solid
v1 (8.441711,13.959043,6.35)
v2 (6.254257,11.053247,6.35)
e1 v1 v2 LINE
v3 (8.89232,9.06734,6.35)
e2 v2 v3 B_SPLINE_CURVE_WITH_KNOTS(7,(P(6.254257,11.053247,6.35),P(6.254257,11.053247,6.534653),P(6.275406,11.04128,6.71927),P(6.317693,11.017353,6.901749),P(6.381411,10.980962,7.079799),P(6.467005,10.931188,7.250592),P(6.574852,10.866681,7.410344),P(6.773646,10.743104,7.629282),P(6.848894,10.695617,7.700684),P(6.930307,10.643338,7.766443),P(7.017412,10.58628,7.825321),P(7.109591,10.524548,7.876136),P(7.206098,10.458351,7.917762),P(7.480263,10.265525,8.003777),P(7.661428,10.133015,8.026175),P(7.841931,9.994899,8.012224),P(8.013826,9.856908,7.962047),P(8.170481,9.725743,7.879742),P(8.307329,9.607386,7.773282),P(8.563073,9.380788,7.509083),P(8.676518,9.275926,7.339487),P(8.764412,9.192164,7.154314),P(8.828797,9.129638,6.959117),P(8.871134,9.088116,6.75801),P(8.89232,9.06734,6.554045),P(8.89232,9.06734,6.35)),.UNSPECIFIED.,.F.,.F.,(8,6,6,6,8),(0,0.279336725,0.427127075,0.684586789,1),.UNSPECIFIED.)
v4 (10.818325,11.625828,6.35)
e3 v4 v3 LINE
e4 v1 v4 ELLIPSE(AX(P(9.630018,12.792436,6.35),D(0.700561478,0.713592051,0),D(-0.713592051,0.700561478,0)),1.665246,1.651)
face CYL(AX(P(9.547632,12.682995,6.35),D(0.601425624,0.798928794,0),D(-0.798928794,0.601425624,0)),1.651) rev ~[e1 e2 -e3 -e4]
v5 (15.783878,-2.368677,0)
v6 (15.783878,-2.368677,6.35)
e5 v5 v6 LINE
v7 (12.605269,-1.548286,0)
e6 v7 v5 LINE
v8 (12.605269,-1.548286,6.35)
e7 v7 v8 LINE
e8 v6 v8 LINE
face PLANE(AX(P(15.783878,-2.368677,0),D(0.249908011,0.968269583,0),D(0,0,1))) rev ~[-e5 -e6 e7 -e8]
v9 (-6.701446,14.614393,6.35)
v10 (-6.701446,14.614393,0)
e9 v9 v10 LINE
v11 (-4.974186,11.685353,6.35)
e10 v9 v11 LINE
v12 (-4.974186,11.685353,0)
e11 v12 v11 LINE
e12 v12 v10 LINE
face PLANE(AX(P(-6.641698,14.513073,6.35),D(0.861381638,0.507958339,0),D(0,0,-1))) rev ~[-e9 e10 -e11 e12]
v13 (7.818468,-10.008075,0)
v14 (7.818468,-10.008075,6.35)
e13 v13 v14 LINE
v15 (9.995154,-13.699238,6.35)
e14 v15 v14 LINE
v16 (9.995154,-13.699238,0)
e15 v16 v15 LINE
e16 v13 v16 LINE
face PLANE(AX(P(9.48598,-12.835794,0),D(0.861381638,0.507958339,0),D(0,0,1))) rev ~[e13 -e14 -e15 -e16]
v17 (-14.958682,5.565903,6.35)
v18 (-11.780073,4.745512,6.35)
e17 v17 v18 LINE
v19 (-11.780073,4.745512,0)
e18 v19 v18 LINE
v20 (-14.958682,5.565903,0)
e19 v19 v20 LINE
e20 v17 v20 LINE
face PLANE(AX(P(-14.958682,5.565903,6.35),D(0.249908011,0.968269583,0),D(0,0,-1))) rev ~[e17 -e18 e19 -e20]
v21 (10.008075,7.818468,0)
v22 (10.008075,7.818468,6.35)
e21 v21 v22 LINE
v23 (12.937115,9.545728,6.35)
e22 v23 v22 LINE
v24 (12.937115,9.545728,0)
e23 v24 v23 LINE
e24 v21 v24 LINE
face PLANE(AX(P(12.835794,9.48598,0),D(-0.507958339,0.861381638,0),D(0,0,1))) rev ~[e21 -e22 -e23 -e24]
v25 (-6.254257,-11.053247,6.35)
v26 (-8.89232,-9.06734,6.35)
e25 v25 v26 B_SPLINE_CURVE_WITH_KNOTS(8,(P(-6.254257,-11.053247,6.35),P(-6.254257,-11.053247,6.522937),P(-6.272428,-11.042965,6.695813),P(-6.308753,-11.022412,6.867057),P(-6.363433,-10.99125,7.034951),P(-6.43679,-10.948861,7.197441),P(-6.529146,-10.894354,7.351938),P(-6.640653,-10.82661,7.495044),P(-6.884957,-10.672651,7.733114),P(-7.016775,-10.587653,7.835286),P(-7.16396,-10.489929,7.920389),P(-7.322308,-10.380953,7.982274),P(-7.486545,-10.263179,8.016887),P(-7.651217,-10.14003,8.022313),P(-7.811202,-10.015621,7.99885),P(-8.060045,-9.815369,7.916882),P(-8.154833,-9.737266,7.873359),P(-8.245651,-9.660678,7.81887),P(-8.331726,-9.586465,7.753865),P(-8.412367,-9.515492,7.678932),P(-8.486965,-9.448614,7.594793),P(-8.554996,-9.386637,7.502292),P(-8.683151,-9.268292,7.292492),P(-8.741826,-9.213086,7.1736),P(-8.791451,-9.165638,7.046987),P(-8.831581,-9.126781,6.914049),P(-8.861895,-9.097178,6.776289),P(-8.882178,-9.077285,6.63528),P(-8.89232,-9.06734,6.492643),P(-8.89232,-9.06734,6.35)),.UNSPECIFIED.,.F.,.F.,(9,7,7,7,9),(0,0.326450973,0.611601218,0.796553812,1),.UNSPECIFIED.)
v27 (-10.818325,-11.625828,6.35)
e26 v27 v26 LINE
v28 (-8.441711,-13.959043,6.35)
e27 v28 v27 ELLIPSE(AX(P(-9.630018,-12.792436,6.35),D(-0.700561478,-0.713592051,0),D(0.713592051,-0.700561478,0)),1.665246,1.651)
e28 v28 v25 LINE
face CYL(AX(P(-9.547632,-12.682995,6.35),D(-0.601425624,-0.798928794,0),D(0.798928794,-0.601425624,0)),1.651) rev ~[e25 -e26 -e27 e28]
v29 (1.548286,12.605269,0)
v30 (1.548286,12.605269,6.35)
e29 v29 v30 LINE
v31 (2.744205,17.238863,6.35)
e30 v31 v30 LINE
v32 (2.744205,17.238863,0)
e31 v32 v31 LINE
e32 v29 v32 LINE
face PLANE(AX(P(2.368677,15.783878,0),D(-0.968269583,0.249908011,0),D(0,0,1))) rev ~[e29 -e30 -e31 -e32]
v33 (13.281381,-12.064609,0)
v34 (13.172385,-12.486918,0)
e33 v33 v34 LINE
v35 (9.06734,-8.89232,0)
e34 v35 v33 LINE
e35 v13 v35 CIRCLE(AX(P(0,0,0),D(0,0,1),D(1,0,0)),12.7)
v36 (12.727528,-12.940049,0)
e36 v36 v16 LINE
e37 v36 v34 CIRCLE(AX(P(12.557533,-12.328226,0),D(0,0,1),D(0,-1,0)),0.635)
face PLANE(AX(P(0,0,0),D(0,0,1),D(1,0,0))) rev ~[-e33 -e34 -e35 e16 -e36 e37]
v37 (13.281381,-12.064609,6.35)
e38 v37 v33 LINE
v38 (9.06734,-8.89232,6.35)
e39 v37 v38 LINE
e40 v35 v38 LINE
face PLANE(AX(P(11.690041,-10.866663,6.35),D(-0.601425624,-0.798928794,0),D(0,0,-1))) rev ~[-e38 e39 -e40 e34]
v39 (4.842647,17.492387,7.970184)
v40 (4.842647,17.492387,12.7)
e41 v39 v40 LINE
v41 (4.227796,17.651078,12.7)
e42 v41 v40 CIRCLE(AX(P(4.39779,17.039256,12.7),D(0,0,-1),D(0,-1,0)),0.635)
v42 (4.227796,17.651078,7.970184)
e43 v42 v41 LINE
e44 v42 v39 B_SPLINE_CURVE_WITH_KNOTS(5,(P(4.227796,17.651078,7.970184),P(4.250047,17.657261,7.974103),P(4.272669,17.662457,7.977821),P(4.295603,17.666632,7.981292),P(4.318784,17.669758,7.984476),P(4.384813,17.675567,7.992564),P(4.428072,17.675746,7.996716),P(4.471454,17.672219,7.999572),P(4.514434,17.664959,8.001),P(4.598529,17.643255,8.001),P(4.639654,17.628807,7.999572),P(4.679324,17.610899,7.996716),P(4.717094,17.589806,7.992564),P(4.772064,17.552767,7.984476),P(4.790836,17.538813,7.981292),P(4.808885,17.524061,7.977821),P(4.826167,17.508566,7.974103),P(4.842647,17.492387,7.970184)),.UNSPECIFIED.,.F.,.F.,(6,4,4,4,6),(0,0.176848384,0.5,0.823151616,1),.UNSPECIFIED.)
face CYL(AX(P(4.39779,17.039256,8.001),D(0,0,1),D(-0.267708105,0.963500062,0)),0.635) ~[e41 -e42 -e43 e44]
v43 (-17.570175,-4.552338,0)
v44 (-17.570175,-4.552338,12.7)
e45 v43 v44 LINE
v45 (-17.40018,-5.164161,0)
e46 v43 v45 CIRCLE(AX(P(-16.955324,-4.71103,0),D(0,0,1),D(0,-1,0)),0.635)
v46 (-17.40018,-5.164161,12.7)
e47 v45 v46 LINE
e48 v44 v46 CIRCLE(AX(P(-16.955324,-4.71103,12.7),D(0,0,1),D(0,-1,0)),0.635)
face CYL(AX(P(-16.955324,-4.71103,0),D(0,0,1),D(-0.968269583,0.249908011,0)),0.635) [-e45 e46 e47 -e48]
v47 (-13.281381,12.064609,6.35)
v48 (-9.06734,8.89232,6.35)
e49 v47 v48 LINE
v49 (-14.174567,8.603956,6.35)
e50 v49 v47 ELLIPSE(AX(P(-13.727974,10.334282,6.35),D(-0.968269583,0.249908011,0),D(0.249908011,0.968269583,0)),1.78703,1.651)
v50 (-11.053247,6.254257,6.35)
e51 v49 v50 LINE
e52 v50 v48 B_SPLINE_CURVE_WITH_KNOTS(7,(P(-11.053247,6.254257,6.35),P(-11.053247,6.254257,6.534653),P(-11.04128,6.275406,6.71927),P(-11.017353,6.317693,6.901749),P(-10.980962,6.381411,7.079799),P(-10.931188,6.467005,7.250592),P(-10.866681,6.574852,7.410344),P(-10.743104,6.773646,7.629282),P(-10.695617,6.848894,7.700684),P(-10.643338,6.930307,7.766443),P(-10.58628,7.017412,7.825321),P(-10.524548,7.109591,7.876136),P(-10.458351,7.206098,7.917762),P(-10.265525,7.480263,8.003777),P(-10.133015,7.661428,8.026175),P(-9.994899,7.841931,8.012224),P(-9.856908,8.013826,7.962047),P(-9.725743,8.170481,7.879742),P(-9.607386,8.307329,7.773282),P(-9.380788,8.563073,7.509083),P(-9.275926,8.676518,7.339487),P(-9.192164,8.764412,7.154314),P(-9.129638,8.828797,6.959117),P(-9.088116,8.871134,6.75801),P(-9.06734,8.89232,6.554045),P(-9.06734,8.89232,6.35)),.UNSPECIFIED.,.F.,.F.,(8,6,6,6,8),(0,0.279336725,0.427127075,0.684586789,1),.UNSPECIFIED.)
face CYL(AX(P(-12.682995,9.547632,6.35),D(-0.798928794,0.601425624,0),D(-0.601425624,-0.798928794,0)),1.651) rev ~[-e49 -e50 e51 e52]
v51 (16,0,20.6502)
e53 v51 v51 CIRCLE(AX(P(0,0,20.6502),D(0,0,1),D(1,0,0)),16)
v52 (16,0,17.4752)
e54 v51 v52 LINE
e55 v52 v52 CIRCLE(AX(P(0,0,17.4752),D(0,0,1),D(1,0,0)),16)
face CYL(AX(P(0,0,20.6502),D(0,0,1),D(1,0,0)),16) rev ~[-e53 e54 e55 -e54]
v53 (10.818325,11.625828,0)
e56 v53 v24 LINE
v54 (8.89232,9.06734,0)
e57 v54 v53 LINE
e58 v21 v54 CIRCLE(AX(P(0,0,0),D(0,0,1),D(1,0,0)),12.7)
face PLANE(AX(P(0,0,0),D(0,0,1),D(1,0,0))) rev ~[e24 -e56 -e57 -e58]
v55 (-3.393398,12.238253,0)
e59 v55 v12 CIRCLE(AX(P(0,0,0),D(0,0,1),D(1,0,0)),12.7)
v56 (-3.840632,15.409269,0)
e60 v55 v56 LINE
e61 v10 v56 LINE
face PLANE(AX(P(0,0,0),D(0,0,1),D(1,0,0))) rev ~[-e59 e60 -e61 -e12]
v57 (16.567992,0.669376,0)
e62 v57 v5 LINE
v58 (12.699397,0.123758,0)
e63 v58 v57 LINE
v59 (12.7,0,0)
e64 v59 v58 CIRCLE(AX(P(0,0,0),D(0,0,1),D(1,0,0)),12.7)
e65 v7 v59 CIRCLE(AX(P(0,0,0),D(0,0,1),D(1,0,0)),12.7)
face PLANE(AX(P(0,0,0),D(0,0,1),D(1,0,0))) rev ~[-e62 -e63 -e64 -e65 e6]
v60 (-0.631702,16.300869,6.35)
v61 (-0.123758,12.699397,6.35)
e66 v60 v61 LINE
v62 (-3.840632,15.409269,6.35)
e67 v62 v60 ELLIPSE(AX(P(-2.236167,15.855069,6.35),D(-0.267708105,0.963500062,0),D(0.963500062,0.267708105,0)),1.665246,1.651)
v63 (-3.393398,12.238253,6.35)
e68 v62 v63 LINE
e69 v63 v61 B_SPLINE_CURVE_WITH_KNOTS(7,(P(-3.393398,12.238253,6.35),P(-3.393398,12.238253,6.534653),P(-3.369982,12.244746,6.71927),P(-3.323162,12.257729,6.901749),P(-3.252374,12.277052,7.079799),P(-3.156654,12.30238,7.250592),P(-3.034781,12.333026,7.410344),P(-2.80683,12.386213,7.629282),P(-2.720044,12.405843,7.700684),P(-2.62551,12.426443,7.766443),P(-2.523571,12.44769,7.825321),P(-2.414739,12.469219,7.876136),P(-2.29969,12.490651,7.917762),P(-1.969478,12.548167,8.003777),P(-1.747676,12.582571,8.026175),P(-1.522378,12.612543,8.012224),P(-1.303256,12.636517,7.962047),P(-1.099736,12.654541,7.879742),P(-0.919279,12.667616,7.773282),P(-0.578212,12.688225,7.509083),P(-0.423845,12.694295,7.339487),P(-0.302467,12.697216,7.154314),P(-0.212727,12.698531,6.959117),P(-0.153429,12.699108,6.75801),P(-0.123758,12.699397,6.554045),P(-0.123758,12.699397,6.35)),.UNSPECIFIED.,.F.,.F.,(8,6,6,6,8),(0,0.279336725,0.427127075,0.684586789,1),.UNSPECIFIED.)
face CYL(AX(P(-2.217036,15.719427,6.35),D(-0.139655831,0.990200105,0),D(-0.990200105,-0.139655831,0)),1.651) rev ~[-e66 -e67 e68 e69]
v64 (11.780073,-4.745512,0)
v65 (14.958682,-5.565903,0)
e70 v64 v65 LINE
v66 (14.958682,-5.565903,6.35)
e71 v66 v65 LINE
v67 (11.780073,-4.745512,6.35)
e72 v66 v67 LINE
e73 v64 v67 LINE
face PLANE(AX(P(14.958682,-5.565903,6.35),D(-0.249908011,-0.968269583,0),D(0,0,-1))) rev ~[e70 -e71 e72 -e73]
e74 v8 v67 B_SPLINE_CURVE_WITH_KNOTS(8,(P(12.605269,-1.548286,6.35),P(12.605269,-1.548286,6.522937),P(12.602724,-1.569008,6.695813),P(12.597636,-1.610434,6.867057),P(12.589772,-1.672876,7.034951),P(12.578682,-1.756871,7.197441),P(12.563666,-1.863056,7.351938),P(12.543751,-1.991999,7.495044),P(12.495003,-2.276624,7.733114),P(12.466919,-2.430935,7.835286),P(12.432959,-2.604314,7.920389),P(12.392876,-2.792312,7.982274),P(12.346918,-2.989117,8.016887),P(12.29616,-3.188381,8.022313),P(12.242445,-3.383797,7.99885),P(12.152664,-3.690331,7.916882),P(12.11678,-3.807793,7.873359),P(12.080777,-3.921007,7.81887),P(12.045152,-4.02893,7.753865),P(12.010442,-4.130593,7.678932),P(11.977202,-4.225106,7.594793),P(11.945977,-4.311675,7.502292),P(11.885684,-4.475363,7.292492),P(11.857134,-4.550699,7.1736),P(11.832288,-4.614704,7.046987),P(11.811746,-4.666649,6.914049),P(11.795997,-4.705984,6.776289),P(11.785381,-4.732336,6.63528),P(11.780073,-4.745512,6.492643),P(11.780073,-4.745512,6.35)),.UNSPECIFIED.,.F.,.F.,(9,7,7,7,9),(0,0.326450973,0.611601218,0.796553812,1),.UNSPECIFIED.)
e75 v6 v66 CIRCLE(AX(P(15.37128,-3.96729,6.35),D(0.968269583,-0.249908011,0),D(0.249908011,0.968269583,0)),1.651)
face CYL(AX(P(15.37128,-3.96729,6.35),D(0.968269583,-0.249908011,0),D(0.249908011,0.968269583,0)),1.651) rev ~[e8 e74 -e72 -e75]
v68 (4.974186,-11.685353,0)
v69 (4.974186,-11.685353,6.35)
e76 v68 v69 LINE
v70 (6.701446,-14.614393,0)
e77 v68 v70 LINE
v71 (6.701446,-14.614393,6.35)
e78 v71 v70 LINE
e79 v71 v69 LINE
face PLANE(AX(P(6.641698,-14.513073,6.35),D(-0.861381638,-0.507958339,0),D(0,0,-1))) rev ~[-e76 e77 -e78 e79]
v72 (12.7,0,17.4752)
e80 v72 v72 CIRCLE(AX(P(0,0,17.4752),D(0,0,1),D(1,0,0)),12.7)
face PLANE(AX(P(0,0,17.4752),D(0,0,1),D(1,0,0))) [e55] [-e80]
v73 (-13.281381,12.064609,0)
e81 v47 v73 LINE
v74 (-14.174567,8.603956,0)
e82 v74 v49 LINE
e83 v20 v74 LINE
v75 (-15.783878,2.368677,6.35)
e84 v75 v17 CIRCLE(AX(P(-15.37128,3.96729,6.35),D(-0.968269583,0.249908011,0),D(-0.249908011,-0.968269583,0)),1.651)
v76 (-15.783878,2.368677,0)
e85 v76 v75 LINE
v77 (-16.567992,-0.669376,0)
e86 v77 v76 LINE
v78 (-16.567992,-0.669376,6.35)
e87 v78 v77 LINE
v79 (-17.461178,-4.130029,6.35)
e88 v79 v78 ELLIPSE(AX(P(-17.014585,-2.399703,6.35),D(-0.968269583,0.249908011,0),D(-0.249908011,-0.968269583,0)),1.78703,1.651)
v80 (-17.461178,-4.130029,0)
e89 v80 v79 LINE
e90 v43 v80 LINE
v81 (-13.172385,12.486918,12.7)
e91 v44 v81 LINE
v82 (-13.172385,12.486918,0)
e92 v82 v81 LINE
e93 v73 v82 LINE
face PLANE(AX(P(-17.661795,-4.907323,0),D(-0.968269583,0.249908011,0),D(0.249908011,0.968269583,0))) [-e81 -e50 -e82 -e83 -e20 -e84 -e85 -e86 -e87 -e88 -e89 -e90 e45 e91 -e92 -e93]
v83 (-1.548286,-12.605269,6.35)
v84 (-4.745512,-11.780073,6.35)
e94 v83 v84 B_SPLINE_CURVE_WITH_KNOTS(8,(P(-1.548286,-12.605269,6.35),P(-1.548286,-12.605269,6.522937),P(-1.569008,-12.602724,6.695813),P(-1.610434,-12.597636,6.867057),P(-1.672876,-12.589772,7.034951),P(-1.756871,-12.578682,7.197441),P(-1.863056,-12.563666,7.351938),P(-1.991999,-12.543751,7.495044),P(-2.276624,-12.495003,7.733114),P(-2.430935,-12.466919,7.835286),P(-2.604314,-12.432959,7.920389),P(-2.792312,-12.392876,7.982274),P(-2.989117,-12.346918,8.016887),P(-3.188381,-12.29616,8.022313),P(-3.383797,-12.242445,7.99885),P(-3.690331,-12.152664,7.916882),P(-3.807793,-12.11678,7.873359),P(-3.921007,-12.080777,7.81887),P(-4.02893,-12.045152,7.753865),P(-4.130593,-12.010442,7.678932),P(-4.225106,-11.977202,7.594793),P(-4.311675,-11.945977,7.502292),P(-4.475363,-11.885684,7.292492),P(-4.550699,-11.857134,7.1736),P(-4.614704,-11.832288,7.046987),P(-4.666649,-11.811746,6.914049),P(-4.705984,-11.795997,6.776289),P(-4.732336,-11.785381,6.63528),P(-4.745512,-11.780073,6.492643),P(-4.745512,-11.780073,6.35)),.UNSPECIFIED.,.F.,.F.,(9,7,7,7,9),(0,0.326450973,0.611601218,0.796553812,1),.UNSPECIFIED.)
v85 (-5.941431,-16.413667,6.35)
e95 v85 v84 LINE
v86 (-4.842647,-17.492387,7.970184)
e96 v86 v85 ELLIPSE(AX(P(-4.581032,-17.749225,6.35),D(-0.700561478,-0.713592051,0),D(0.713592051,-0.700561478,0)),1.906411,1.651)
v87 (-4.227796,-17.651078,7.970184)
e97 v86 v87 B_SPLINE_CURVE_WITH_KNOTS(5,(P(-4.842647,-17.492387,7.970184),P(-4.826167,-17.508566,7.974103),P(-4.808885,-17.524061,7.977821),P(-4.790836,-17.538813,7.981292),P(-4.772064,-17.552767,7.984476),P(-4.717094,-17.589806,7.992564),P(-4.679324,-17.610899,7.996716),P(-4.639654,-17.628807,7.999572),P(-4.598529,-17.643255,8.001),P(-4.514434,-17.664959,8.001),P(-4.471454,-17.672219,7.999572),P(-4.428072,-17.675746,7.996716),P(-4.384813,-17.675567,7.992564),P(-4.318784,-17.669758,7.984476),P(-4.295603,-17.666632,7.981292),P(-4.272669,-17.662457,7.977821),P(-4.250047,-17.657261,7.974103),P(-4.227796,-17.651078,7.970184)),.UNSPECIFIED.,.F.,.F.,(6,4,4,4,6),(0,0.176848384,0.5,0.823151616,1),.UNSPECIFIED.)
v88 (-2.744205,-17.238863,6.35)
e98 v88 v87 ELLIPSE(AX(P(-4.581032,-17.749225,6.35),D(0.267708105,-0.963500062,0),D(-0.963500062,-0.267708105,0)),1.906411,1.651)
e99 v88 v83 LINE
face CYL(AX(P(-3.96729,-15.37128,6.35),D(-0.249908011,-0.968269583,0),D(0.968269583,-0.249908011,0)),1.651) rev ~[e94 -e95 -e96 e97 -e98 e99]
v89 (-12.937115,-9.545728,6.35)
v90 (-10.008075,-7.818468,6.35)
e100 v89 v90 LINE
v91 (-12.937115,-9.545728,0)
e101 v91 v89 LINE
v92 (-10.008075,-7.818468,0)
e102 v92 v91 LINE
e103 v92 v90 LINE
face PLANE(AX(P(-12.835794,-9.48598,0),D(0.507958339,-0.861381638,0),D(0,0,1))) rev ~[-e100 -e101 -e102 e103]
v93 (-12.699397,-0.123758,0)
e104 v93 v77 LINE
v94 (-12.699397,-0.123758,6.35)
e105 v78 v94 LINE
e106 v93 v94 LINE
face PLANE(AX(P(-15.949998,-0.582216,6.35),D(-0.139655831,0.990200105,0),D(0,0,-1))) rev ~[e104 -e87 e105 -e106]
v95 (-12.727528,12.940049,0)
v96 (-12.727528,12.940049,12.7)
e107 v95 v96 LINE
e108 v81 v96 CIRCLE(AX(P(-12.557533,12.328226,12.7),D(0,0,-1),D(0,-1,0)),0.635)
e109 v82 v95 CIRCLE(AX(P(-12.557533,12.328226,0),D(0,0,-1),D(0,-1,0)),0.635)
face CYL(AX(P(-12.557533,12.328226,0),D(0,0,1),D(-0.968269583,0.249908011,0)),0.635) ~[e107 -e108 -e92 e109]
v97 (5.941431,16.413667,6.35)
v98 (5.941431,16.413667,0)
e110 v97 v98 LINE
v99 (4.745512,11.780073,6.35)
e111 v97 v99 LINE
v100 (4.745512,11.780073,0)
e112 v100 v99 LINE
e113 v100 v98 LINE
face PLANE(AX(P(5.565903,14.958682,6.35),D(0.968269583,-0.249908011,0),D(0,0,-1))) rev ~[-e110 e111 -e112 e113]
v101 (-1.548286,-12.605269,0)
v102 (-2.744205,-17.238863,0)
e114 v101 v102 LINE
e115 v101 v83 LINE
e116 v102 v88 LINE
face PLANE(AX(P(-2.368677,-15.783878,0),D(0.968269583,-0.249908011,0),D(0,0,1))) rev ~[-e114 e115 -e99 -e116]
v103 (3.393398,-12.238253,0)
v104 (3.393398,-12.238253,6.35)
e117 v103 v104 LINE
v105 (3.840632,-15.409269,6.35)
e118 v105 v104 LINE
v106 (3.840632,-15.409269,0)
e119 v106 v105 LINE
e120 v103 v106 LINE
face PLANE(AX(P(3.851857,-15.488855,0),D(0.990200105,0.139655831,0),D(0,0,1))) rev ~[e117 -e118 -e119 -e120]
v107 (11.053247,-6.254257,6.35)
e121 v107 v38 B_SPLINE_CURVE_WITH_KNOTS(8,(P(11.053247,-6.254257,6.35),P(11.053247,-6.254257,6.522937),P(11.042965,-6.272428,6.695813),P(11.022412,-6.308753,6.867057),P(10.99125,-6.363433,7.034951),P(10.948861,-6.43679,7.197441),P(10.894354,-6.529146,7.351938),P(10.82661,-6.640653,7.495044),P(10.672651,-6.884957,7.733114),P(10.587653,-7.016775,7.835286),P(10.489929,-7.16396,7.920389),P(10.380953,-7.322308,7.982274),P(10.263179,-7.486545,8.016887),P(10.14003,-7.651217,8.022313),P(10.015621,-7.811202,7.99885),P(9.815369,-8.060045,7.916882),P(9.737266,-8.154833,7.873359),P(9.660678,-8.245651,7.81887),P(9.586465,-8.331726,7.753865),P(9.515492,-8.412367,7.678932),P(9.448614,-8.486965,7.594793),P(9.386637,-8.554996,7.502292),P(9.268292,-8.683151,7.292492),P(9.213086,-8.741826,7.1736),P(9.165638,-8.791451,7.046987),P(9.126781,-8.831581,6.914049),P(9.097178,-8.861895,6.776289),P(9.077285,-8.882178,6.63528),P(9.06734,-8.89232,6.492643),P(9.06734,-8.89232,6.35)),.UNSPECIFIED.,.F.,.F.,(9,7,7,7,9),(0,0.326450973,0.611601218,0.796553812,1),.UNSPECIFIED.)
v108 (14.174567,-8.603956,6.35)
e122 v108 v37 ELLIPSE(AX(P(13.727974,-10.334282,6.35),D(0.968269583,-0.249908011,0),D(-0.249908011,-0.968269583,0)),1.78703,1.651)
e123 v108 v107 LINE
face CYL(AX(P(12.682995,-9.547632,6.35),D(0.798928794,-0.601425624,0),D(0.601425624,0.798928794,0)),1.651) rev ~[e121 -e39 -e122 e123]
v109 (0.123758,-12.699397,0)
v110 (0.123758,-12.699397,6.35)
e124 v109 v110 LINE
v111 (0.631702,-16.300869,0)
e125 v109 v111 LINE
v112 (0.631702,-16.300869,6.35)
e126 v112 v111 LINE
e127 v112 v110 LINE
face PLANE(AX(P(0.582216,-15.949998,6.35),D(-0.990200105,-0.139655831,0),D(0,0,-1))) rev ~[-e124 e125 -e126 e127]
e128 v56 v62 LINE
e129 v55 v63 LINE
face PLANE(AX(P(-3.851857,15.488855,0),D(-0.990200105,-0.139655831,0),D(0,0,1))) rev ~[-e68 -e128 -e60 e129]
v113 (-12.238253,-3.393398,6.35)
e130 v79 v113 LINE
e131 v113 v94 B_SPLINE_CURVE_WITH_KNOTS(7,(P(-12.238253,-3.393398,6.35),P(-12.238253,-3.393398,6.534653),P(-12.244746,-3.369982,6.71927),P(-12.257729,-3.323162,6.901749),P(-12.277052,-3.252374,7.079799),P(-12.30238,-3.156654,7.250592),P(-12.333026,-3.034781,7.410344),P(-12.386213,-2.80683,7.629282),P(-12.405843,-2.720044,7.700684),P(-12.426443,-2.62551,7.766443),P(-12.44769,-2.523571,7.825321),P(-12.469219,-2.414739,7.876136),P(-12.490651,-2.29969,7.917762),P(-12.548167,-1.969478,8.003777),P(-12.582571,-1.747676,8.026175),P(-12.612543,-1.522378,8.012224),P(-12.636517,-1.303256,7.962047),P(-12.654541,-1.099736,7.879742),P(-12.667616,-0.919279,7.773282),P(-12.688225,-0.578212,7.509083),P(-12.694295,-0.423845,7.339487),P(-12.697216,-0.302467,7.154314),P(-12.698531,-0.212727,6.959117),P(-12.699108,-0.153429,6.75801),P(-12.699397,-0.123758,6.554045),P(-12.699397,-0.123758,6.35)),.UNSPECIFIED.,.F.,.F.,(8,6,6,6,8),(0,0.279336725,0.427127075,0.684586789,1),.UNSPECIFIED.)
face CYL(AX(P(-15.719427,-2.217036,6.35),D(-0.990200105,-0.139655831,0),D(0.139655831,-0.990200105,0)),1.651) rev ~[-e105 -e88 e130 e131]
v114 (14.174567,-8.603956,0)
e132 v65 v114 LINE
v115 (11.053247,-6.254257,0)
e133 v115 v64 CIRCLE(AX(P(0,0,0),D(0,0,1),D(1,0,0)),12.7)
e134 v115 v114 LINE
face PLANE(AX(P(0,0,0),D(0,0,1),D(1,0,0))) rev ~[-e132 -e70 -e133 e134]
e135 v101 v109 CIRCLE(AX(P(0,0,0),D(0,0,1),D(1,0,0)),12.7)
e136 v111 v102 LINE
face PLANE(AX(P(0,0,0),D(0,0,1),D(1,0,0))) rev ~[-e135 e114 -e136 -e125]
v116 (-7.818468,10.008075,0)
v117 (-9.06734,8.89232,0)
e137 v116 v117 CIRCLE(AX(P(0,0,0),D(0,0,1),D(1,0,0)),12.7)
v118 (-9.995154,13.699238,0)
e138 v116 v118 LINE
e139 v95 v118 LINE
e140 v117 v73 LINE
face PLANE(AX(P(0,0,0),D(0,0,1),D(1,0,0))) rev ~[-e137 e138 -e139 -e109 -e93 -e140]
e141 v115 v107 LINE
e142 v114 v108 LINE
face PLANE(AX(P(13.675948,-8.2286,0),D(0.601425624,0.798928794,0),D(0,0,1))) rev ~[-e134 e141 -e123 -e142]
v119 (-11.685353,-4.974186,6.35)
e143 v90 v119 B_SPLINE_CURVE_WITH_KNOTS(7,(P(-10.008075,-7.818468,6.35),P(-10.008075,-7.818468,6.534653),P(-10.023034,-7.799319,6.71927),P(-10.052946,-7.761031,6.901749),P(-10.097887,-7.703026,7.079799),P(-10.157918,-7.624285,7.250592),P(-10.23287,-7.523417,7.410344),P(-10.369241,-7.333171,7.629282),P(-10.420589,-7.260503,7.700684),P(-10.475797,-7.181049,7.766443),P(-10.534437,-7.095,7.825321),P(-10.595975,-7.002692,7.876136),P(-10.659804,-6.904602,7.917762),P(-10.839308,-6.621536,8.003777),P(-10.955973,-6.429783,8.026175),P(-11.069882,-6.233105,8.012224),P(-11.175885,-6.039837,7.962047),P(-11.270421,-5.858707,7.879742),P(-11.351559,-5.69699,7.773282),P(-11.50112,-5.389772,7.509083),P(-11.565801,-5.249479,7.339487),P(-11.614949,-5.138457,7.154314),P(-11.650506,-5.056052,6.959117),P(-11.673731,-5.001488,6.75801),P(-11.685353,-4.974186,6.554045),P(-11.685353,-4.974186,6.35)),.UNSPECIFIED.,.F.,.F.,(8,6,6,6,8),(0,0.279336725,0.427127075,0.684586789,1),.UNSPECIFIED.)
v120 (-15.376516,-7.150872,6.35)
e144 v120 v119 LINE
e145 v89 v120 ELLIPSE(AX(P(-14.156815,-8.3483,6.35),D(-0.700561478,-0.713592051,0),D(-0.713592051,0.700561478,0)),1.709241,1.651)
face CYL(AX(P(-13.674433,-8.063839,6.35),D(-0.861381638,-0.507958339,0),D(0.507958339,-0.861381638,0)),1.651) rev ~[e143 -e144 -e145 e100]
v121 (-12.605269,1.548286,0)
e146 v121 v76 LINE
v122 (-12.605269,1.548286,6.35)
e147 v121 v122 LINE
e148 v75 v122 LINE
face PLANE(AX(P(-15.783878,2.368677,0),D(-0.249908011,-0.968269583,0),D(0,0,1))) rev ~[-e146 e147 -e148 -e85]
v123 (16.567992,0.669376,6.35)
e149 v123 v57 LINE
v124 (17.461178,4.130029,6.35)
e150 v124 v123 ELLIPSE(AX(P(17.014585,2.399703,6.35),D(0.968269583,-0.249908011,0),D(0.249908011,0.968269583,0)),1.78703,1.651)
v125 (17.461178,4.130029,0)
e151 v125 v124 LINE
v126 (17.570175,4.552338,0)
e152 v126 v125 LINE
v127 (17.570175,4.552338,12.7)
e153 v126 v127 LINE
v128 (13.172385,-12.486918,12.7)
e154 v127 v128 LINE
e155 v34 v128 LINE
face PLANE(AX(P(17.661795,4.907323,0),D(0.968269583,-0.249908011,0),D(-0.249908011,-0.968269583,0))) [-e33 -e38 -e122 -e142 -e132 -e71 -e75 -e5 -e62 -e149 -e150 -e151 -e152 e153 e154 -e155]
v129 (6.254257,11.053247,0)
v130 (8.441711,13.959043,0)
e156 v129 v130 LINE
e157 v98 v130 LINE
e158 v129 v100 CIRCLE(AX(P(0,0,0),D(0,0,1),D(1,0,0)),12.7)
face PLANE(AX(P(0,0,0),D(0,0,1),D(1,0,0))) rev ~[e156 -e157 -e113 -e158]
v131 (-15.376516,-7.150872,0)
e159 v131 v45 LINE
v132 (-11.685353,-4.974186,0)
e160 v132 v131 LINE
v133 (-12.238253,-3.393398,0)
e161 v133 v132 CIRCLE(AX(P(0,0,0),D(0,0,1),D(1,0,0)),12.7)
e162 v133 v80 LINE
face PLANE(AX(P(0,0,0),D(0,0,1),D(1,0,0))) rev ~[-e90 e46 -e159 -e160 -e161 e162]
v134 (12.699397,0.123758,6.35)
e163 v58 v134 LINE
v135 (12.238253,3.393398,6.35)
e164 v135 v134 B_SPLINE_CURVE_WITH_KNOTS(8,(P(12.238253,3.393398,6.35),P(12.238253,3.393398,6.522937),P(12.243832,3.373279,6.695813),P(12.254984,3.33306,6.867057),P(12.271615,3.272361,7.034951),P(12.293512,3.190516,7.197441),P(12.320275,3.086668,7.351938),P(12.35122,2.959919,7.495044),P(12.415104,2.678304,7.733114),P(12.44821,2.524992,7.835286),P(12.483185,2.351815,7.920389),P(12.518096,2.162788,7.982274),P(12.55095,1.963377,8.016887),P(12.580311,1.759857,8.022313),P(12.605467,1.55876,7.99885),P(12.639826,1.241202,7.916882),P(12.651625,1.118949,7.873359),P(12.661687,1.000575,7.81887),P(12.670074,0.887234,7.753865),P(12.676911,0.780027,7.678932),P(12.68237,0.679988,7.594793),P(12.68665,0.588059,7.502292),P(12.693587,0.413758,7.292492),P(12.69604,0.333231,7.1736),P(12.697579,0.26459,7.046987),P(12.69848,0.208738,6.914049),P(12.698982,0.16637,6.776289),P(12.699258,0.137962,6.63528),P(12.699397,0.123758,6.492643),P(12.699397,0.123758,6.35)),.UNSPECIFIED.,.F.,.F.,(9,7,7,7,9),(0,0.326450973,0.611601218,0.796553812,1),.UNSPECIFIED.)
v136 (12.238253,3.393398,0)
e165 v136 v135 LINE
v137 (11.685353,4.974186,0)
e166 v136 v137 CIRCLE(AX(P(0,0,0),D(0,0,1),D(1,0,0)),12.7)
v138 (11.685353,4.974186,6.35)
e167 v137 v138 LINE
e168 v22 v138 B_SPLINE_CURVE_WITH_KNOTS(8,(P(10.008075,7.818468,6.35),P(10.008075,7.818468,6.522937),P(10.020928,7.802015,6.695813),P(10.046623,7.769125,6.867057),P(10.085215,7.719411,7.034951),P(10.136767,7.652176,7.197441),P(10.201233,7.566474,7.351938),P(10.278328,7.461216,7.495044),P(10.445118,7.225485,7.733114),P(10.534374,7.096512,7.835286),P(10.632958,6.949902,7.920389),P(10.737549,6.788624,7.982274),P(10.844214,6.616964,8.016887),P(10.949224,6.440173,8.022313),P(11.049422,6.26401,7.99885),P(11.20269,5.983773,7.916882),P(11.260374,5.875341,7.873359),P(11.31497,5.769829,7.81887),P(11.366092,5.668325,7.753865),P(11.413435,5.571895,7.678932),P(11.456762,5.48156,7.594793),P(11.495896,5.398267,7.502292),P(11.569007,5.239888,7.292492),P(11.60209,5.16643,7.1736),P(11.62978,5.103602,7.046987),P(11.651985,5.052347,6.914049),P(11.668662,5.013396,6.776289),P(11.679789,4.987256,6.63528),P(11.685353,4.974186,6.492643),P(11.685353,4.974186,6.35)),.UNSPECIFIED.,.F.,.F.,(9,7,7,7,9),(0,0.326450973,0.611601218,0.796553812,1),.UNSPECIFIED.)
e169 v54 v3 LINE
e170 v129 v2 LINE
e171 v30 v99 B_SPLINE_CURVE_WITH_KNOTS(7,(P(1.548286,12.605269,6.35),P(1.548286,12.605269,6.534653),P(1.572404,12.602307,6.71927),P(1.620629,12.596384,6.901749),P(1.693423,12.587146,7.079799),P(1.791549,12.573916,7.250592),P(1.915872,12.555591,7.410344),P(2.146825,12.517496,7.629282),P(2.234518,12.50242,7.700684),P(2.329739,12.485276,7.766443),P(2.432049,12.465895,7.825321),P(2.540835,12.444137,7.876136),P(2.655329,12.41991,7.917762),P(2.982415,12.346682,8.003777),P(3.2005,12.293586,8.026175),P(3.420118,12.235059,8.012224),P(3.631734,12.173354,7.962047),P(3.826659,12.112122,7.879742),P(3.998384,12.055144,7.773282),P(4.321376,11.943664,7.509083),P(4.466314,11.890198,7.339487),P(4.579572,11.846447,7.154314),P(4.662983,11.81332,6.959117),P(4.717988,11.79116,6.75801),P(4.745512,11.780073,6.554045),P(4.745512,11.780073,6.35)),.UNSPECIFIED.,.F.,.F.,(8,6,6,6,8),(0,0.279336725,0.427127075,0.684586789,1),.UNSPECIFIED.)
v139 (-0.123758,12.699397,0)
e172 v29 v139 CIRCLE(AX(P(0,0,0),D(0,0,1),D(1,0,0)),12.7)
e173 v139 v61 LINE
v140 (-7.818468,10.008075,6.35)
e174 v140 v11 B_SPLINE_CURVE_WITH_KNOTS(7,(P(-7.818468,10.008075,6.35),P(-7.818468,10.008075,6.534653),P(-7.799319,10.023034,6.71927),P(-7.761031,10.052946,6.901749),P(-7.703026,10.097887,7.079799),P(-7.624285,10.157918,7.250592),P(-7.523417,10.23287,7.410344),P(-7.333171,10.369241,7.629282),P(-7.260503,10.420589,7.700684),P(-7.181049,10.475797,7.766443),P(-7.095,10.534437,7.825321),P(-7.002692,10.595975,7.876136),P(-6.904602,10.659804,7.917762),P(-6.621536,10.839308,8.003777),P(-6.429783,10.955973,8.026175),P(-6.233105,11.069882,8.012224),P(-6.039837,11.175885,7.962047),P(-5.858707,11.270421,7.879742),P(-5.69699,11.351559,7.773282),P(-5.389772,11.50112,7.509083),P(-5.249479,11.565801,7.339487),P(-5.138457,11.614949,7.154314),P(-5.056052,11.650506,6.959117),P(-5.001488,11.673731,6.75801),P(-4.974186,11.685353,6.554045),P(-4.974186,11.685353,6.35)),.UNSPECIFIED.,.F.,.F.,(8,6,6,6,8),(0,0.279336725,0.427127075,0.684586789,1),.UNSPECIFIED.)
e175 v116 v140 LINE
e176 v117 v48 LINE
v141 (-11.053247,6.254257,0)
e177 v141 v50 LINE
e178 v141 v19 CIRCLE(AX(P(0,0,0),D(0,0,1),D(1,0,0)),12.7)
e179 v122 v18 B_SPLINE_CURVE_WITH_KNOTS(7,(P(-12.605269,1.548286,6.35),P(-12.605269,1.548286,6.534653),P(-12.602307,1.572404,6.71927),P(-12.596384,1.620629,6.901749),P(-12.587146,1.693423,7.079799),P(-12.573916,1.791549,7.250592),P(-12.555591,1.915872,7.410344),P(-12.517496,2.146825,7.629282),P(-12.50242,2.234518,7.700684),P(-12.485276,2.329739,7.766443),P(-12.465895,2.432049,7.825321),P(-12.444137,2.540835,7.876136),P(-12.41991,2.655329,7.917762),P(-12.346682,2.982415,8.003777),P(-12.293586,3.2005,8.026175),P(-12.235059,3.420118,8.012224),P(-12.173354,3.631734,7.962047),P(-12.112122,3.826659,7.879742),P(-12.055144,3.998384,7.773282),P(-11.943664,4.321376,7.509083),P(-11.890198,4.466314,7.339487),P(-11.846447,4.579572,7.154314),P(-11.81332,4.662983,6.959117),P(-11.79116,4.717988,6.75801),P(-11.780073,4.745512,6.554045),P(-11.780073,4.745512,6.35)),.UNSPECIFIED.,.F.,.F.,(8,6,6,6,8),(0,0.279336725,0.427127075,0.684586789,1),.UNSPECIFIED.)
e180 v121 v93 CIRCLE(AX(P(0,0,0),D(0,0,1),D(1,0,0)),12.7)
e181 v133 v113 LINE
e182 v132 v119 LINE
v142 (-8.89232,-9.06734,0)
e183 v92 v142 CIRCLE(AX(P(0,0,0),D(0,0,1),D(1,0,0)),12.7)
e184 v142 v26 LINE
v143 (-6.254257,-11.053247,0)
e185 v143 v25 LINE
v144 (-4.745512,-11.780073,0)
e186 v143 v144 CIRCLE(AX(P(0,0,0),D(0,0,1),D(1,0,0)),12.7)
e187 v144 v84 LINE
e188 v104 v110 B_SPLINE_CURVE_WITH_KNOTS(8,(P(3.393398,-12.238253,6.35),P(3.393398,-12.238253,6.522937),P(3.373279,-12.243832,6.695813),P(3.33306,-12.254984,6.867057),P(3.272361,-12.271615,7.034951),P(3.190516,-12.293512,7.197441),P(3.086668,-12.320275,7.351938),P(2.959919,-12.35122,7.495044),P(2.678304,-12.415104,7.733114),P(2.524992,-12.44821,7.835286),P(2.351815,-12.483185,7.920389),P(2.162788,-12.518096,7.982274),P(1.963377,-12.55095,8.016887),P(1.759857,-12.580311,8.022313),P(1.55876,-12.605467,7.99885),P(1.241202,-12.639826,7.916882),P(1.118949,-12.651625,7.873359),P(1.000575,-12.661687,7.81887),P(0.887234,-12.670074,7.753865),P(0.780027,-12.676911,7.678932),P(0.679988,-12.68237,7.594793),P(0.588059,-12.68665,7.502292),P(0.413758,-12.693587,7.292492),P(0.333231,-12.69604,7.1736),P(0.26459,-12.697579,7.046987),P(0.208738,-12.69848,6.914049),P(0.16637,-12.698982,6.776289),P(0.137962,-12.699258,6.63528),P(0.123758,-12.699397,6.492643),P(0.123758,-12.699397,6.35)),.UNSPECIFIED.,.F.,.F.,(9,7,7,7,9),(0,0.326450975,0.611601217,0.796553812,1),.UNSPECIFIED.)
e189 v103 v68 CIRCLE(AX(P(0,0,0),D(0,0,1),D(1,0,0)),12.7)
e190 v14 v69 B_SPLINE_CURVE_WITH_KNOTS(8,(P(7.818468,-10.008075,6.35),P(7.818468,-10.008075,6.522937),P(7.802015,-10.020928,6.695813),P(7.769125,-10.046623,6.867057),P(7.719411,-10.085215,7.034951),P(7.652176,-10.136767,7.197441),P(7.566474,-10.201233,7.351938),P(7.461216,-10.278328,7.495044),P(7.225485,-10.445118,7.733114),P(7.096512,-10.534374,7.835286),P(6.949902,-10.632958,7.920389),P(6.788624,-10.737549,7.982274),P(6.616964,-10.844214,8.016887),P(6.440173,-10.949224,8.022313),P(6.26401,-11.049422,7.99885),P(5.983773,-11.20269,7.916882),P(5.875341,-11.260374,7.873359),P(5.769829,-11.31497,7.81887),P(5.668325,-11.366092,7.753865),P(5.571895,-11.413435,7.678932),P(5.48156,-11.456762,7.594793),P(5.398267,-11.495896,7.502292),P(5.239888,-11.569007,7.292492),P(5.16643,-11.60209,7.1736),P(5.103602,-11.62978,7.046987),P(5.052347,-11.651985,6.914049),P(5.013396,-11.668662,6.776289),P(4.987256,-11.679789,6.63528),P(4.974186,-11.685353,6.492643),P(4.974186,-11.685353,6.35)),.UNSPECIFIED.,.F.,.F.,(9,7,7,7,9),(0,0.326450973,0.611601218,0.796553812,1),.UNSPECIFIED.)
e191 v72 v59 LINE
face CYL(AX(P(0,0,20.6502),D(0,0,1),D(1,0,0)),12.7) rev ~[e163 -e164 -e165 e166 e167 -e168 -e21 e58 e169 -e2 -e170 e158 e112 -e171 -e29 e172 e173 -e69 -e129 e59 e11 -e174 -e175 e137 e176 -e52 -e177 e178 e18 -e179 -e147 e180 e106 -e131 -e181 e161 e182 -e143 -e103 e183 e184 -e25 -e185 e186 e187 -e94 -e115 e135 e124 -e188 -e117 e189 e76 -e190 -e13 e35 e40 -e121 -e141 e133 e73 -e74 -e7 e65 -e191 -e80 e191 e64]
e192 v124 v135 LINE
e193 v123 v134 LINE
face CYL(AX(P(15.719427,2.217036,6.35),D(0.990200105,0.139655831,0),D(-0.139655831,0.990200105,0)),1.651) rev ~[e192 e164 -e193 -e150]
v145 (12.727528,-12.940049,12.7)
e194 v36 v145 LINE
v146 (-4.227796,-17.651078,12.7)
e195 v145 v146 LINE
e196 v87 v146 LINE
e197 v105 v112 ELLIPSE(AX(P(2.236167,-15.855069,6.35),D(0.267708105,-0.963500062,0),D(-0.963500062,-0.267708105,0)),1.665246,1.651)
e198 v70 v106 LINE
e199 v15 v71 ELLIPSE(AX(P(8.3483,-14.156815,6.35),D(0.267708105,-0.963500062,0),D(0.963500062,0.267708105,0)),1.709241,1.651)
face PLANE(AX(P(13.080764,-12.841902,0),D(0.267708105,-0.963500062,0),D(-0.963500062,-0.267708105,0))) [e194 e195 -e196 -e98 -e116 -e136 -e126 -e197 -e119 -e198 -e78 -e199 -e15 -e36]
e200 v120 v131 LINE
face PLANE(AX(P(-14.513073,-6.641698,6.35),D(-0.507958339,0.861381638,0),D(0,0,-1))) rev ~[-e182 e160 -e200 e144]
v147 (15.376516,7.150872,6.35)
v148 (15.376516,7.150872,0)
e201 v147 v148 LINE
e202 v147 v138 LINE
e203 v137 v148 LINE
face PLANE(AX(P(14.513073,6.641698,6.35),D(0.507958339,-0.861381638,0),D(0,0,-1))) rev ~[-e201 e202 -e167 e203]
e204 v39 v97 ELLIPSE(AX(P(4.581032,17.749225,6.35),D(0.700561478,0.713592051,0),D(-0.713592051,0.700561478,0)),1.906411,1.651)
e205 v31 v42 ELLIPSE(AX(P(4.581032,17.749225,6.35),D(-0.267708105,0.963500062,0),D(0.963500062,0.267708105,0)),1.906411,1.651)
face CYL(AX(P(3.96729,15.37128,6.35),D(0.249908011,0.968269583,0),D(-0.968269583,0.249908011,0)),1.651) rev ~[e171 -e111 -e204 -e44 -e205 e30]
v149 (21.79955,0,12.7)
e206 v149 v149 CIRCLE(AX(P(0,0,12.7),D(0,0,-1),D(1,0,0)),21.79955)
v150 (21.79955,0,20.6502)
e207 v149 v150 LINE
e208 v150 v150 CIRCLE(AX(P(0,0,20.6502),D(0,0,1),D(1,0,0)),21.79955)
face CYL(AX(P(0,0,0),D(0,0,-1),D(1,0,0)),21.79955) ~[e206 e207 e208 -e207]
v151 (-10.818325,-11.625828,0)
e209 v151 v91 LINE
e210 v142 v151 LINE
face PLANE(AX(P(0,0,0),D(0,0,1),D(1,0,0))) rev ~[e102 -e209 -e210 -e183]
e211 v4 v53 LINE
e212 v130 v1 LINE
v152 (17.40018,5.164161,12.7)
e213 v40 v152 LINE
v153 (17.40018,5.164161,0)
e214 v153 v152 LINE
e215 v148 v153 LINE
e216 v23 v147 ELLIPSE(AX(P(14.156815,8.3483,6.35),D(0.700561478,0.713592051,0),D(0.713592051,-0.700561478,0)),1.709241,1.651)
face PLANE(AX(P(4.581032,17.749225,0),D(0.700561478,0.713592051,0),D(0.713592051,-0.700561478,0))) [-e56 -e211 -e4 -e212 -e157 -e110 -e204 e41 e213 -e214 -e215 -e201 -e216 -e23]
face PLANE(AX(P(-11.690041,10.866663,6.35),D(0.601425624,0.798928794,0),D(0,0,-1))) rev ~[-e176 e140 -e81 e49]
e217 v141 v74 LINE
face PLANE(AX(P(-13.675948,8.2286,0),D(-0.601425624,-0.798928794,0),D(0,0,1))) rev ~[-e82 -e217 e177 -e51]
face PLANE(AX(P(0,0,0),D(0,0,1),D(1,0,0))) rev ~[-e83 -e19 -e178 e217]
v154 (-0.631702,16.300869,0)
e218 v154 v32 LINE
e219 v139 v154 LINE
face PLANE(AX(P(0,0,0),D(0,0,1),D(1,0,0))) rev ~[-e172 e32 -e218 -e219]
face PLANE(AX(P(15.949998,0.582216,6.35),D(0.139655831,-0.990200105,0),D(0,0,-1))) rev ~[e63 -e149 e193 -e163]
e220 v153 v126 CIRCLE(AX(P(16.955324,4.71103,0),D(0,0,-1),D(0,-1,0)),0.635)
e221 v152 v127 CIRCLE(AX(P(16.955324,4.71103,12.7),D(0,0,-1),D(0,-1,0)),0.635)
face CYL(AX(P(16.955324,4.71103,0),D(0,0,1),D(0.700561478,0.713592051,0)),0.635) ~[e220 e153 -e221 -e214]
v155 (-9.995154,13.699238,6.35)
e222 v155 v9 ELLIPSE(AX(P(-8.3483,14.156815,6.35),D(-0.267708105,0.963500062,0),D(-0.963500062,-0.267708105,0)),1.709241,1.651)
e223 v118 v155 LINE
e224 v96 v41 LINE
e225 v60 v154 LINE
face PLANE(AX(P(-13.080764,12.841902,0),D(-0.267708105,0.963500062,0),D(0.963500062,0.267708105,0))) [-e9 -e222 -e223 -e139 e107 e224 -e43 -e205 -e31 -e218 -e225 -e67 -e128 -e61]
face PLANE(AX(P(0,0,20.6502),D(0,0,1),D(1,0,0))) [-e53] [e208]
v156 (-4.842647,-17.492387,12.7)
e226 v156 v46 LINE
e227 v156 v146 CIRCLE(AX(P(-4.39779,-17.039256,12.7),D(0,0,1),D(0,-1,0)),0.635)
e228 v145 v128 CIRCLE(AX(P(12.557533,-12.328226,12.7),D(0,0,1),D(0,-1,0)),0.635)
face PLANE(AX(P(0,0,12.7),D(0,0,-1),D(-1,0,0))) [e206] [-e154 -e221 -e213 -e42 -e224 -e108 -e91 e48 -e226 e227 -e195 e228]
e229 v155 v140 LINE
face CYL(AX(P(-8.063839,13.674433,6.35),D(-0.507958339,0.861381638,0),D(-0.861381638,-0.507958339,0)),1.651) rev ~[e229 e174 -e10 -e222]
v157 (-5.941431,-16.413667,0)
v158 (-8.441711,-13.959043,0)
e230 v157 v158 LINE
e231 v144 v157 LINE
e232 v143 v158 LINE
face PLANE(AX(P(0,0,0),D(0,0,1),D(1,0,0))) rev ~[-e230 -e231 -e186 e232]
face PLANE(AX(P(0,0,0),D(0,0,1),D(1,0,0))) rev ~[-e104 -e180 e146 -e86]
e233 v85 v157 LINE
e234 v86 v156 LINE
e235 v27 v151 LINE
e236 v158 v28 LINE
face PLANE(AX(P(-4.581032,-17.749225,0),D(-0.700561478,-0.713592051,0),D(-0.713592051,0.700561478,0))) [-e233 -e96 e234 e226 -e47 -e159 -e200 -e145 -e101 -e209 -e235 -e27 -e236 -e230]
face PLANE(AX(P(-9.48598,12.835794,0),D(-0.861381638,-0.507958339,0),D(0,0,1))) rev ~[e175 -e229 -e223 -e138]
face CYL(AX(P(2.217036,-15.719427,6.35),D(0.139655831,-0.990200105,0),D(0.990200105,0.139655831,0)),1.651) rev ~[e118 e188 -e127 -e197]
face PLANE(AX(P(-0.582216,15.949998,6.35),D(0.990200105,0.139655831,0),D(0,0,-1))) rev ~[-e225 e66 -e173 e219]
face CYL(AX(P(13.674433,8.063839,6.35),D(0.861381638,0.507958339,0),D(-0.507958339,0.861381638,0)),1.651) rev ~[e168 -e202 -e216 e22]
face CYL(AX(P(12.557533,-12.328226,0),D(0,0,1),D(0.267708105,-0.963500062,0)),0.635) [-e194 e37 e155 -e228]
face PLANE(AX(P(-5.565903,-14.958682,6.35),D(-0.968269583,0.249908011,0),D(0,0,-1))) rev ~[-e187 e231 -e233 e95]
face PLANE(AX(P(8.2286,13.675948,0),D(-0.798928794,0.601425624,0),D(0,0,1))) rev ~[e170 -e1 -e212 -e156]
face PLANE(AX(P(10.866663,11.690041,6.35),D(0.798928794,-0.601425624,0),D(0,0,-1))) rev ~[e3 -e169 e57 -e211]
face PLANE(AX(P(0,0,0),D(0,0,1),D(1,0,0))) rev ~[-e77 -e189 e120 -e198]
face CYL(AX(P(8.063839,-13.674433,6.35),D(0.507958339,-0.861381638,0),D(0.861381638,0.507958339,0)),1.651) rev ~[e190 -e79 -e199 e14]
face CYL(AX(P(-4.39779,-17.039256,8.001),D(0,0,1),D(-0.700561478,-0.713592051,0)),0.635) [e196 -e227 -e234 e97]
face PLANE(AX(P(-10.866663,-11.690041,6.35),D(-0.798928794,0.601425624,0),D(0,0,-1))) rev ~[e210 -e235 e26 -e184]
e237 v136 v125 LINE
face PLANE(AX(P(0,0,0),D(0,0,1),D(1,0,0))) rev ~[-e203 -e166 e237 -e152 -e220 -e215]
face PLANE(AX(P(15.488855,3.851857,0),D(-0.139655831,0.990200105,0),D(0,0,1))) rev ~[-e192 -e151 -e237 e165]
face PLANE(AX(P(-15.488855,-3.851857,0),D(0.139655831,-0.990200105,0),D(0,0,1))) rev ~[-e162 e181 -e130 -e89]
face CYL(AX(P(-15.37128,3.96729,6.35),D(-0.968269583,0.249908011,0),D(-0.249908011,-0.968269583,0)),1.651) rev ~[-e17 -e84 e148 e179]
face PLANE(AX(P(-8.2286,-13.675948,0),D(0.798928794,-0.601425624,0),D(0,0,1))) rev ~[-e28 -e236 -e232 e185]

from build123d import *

# Parameters (mm, degrees)
SKETCH1_R           = 21.79955
BOSS_EXTRUDE1_DEPTH = 20.6502
SKETCH2_R           = 12.7
CUT_EXTRUDE1_DEPTH  = 20.6502
SKETCH3_R           = 16.000000004
CUT_EXTRUDE2_DEPTH  = 3.175
SKETCH4_OUTSIDE_W   = 58.604
SKETCH4_OUTSIDE_H   = 58.604
CUT_EXTRUDE3_DEPTH  = 12.7
CUT_EXTRUDE4_DEPTH  = 9.8552
CIRPATTERN1_COUNT   = 16
FILLET1_R           = 0.635


with BuildPart() as part:
    # Sketch1 → Boss-Extrude1 (new body)
    with BuildSketch(Plane.XY):
        Circle(SKETCH1_R)
    extrude(amount=BOSS_EXTRUDE1_DEPTH)

    # Sketch2 → Cut-Extrude1 (cut)
    with BuildSketch(Plane.XY.offset(20.6502)):
        Circle(SKETCH2_R)
    extrude(amount=-CUT_EXTRUDE1_DEPTH, mode=Mode.SUBTRACT)

    # Sketch3 → Cut-Extrude2 (cut)
    with BuildSketch(Plane.XY.offset(20.6502)):
        Circle(SKETCH3_R)
    extrude(amount=-CUT_EXTRUDE2_DEPTH, mode=Mode.SUBTRACT)

    # Sketch4 outside → Cut-Extrude3 (cut)
    with BuildSketch(Plane(origin=(0, 0, 0), x_dir=(-1, 0, 0), z_dir=(0, 0, -1))):
        Rectangle(SKETCH4_OUTSIDE_W, SKETCH4_OUTSIDE_H)
        Polygon((17.661795398, -4.907322758), (13.080763872, 12.841902112), (-4.581031526, 17.74922487), (-17.661795398, 4.907322758), (-13.080763872, -12.841902112), (4.581031526, -17.74922487), align=None, mode=Mode.SUBTRACT)
    extrude(amount=-CUT_EXTRUDE3_DEPTH, mode=Mode.SUBTRACT)

    # Sketch5 → Cut-Extrude4 (cut, symmetric)
    with BuildSketch(Plane(origin=(-15.371279635, 3.967289677, 0), x_dir=(0, 0, 1), z_dir=(-0.9682695833030739, 0.24990801117629627, 0))):
        with BuildLine():
            Line((6.35, 1.651), (0, 1.651))
            Line((0, 1.651), (0, -1.651))
            Line((0, -1.651), (6.35, -1.651))
            ThreePointArc((6.35, -1.651), (8.001, 0), (6.35, 1.651))
        make_face()
    cut_extrude4 = extrude(amount=CUT_EXTRUDE4_DEPTH, both=True, mode=Mode.SUBTRACT)

    # CirPattern1: Cut-Extrude4 ×16 about axis
    cirpattern1_axis = Axis((0, 0, 17.4752), (0, 0, 1))
    for i in range(1, CIRPATTERN1_COUNT):
        add(cut_extrude4.rotate(cirpattern1_axis, i * 360 / CIRPATTERN1_COUNT), mode=Mode.SUBTRACT)

    # Fillet1
    fillet1_edges = [part.edges().sort_by_distance(p)[0] for p in [
        (-17.661795398, -4.907322758, 6.35),
        (-13.080763872, 12.841902112, 6.35),
        (4.581031526, 17.74922487, 10.3505),
        (17.661795398, 4.907322758, 6.35),
        (13.080763872, -12.841902112, 6.35),
        (-4.581031526, -17.74922487, 10.3505),
    ]]
    fillet(fillet1_edges, radius=FILLET1_R)


solid = part.part
